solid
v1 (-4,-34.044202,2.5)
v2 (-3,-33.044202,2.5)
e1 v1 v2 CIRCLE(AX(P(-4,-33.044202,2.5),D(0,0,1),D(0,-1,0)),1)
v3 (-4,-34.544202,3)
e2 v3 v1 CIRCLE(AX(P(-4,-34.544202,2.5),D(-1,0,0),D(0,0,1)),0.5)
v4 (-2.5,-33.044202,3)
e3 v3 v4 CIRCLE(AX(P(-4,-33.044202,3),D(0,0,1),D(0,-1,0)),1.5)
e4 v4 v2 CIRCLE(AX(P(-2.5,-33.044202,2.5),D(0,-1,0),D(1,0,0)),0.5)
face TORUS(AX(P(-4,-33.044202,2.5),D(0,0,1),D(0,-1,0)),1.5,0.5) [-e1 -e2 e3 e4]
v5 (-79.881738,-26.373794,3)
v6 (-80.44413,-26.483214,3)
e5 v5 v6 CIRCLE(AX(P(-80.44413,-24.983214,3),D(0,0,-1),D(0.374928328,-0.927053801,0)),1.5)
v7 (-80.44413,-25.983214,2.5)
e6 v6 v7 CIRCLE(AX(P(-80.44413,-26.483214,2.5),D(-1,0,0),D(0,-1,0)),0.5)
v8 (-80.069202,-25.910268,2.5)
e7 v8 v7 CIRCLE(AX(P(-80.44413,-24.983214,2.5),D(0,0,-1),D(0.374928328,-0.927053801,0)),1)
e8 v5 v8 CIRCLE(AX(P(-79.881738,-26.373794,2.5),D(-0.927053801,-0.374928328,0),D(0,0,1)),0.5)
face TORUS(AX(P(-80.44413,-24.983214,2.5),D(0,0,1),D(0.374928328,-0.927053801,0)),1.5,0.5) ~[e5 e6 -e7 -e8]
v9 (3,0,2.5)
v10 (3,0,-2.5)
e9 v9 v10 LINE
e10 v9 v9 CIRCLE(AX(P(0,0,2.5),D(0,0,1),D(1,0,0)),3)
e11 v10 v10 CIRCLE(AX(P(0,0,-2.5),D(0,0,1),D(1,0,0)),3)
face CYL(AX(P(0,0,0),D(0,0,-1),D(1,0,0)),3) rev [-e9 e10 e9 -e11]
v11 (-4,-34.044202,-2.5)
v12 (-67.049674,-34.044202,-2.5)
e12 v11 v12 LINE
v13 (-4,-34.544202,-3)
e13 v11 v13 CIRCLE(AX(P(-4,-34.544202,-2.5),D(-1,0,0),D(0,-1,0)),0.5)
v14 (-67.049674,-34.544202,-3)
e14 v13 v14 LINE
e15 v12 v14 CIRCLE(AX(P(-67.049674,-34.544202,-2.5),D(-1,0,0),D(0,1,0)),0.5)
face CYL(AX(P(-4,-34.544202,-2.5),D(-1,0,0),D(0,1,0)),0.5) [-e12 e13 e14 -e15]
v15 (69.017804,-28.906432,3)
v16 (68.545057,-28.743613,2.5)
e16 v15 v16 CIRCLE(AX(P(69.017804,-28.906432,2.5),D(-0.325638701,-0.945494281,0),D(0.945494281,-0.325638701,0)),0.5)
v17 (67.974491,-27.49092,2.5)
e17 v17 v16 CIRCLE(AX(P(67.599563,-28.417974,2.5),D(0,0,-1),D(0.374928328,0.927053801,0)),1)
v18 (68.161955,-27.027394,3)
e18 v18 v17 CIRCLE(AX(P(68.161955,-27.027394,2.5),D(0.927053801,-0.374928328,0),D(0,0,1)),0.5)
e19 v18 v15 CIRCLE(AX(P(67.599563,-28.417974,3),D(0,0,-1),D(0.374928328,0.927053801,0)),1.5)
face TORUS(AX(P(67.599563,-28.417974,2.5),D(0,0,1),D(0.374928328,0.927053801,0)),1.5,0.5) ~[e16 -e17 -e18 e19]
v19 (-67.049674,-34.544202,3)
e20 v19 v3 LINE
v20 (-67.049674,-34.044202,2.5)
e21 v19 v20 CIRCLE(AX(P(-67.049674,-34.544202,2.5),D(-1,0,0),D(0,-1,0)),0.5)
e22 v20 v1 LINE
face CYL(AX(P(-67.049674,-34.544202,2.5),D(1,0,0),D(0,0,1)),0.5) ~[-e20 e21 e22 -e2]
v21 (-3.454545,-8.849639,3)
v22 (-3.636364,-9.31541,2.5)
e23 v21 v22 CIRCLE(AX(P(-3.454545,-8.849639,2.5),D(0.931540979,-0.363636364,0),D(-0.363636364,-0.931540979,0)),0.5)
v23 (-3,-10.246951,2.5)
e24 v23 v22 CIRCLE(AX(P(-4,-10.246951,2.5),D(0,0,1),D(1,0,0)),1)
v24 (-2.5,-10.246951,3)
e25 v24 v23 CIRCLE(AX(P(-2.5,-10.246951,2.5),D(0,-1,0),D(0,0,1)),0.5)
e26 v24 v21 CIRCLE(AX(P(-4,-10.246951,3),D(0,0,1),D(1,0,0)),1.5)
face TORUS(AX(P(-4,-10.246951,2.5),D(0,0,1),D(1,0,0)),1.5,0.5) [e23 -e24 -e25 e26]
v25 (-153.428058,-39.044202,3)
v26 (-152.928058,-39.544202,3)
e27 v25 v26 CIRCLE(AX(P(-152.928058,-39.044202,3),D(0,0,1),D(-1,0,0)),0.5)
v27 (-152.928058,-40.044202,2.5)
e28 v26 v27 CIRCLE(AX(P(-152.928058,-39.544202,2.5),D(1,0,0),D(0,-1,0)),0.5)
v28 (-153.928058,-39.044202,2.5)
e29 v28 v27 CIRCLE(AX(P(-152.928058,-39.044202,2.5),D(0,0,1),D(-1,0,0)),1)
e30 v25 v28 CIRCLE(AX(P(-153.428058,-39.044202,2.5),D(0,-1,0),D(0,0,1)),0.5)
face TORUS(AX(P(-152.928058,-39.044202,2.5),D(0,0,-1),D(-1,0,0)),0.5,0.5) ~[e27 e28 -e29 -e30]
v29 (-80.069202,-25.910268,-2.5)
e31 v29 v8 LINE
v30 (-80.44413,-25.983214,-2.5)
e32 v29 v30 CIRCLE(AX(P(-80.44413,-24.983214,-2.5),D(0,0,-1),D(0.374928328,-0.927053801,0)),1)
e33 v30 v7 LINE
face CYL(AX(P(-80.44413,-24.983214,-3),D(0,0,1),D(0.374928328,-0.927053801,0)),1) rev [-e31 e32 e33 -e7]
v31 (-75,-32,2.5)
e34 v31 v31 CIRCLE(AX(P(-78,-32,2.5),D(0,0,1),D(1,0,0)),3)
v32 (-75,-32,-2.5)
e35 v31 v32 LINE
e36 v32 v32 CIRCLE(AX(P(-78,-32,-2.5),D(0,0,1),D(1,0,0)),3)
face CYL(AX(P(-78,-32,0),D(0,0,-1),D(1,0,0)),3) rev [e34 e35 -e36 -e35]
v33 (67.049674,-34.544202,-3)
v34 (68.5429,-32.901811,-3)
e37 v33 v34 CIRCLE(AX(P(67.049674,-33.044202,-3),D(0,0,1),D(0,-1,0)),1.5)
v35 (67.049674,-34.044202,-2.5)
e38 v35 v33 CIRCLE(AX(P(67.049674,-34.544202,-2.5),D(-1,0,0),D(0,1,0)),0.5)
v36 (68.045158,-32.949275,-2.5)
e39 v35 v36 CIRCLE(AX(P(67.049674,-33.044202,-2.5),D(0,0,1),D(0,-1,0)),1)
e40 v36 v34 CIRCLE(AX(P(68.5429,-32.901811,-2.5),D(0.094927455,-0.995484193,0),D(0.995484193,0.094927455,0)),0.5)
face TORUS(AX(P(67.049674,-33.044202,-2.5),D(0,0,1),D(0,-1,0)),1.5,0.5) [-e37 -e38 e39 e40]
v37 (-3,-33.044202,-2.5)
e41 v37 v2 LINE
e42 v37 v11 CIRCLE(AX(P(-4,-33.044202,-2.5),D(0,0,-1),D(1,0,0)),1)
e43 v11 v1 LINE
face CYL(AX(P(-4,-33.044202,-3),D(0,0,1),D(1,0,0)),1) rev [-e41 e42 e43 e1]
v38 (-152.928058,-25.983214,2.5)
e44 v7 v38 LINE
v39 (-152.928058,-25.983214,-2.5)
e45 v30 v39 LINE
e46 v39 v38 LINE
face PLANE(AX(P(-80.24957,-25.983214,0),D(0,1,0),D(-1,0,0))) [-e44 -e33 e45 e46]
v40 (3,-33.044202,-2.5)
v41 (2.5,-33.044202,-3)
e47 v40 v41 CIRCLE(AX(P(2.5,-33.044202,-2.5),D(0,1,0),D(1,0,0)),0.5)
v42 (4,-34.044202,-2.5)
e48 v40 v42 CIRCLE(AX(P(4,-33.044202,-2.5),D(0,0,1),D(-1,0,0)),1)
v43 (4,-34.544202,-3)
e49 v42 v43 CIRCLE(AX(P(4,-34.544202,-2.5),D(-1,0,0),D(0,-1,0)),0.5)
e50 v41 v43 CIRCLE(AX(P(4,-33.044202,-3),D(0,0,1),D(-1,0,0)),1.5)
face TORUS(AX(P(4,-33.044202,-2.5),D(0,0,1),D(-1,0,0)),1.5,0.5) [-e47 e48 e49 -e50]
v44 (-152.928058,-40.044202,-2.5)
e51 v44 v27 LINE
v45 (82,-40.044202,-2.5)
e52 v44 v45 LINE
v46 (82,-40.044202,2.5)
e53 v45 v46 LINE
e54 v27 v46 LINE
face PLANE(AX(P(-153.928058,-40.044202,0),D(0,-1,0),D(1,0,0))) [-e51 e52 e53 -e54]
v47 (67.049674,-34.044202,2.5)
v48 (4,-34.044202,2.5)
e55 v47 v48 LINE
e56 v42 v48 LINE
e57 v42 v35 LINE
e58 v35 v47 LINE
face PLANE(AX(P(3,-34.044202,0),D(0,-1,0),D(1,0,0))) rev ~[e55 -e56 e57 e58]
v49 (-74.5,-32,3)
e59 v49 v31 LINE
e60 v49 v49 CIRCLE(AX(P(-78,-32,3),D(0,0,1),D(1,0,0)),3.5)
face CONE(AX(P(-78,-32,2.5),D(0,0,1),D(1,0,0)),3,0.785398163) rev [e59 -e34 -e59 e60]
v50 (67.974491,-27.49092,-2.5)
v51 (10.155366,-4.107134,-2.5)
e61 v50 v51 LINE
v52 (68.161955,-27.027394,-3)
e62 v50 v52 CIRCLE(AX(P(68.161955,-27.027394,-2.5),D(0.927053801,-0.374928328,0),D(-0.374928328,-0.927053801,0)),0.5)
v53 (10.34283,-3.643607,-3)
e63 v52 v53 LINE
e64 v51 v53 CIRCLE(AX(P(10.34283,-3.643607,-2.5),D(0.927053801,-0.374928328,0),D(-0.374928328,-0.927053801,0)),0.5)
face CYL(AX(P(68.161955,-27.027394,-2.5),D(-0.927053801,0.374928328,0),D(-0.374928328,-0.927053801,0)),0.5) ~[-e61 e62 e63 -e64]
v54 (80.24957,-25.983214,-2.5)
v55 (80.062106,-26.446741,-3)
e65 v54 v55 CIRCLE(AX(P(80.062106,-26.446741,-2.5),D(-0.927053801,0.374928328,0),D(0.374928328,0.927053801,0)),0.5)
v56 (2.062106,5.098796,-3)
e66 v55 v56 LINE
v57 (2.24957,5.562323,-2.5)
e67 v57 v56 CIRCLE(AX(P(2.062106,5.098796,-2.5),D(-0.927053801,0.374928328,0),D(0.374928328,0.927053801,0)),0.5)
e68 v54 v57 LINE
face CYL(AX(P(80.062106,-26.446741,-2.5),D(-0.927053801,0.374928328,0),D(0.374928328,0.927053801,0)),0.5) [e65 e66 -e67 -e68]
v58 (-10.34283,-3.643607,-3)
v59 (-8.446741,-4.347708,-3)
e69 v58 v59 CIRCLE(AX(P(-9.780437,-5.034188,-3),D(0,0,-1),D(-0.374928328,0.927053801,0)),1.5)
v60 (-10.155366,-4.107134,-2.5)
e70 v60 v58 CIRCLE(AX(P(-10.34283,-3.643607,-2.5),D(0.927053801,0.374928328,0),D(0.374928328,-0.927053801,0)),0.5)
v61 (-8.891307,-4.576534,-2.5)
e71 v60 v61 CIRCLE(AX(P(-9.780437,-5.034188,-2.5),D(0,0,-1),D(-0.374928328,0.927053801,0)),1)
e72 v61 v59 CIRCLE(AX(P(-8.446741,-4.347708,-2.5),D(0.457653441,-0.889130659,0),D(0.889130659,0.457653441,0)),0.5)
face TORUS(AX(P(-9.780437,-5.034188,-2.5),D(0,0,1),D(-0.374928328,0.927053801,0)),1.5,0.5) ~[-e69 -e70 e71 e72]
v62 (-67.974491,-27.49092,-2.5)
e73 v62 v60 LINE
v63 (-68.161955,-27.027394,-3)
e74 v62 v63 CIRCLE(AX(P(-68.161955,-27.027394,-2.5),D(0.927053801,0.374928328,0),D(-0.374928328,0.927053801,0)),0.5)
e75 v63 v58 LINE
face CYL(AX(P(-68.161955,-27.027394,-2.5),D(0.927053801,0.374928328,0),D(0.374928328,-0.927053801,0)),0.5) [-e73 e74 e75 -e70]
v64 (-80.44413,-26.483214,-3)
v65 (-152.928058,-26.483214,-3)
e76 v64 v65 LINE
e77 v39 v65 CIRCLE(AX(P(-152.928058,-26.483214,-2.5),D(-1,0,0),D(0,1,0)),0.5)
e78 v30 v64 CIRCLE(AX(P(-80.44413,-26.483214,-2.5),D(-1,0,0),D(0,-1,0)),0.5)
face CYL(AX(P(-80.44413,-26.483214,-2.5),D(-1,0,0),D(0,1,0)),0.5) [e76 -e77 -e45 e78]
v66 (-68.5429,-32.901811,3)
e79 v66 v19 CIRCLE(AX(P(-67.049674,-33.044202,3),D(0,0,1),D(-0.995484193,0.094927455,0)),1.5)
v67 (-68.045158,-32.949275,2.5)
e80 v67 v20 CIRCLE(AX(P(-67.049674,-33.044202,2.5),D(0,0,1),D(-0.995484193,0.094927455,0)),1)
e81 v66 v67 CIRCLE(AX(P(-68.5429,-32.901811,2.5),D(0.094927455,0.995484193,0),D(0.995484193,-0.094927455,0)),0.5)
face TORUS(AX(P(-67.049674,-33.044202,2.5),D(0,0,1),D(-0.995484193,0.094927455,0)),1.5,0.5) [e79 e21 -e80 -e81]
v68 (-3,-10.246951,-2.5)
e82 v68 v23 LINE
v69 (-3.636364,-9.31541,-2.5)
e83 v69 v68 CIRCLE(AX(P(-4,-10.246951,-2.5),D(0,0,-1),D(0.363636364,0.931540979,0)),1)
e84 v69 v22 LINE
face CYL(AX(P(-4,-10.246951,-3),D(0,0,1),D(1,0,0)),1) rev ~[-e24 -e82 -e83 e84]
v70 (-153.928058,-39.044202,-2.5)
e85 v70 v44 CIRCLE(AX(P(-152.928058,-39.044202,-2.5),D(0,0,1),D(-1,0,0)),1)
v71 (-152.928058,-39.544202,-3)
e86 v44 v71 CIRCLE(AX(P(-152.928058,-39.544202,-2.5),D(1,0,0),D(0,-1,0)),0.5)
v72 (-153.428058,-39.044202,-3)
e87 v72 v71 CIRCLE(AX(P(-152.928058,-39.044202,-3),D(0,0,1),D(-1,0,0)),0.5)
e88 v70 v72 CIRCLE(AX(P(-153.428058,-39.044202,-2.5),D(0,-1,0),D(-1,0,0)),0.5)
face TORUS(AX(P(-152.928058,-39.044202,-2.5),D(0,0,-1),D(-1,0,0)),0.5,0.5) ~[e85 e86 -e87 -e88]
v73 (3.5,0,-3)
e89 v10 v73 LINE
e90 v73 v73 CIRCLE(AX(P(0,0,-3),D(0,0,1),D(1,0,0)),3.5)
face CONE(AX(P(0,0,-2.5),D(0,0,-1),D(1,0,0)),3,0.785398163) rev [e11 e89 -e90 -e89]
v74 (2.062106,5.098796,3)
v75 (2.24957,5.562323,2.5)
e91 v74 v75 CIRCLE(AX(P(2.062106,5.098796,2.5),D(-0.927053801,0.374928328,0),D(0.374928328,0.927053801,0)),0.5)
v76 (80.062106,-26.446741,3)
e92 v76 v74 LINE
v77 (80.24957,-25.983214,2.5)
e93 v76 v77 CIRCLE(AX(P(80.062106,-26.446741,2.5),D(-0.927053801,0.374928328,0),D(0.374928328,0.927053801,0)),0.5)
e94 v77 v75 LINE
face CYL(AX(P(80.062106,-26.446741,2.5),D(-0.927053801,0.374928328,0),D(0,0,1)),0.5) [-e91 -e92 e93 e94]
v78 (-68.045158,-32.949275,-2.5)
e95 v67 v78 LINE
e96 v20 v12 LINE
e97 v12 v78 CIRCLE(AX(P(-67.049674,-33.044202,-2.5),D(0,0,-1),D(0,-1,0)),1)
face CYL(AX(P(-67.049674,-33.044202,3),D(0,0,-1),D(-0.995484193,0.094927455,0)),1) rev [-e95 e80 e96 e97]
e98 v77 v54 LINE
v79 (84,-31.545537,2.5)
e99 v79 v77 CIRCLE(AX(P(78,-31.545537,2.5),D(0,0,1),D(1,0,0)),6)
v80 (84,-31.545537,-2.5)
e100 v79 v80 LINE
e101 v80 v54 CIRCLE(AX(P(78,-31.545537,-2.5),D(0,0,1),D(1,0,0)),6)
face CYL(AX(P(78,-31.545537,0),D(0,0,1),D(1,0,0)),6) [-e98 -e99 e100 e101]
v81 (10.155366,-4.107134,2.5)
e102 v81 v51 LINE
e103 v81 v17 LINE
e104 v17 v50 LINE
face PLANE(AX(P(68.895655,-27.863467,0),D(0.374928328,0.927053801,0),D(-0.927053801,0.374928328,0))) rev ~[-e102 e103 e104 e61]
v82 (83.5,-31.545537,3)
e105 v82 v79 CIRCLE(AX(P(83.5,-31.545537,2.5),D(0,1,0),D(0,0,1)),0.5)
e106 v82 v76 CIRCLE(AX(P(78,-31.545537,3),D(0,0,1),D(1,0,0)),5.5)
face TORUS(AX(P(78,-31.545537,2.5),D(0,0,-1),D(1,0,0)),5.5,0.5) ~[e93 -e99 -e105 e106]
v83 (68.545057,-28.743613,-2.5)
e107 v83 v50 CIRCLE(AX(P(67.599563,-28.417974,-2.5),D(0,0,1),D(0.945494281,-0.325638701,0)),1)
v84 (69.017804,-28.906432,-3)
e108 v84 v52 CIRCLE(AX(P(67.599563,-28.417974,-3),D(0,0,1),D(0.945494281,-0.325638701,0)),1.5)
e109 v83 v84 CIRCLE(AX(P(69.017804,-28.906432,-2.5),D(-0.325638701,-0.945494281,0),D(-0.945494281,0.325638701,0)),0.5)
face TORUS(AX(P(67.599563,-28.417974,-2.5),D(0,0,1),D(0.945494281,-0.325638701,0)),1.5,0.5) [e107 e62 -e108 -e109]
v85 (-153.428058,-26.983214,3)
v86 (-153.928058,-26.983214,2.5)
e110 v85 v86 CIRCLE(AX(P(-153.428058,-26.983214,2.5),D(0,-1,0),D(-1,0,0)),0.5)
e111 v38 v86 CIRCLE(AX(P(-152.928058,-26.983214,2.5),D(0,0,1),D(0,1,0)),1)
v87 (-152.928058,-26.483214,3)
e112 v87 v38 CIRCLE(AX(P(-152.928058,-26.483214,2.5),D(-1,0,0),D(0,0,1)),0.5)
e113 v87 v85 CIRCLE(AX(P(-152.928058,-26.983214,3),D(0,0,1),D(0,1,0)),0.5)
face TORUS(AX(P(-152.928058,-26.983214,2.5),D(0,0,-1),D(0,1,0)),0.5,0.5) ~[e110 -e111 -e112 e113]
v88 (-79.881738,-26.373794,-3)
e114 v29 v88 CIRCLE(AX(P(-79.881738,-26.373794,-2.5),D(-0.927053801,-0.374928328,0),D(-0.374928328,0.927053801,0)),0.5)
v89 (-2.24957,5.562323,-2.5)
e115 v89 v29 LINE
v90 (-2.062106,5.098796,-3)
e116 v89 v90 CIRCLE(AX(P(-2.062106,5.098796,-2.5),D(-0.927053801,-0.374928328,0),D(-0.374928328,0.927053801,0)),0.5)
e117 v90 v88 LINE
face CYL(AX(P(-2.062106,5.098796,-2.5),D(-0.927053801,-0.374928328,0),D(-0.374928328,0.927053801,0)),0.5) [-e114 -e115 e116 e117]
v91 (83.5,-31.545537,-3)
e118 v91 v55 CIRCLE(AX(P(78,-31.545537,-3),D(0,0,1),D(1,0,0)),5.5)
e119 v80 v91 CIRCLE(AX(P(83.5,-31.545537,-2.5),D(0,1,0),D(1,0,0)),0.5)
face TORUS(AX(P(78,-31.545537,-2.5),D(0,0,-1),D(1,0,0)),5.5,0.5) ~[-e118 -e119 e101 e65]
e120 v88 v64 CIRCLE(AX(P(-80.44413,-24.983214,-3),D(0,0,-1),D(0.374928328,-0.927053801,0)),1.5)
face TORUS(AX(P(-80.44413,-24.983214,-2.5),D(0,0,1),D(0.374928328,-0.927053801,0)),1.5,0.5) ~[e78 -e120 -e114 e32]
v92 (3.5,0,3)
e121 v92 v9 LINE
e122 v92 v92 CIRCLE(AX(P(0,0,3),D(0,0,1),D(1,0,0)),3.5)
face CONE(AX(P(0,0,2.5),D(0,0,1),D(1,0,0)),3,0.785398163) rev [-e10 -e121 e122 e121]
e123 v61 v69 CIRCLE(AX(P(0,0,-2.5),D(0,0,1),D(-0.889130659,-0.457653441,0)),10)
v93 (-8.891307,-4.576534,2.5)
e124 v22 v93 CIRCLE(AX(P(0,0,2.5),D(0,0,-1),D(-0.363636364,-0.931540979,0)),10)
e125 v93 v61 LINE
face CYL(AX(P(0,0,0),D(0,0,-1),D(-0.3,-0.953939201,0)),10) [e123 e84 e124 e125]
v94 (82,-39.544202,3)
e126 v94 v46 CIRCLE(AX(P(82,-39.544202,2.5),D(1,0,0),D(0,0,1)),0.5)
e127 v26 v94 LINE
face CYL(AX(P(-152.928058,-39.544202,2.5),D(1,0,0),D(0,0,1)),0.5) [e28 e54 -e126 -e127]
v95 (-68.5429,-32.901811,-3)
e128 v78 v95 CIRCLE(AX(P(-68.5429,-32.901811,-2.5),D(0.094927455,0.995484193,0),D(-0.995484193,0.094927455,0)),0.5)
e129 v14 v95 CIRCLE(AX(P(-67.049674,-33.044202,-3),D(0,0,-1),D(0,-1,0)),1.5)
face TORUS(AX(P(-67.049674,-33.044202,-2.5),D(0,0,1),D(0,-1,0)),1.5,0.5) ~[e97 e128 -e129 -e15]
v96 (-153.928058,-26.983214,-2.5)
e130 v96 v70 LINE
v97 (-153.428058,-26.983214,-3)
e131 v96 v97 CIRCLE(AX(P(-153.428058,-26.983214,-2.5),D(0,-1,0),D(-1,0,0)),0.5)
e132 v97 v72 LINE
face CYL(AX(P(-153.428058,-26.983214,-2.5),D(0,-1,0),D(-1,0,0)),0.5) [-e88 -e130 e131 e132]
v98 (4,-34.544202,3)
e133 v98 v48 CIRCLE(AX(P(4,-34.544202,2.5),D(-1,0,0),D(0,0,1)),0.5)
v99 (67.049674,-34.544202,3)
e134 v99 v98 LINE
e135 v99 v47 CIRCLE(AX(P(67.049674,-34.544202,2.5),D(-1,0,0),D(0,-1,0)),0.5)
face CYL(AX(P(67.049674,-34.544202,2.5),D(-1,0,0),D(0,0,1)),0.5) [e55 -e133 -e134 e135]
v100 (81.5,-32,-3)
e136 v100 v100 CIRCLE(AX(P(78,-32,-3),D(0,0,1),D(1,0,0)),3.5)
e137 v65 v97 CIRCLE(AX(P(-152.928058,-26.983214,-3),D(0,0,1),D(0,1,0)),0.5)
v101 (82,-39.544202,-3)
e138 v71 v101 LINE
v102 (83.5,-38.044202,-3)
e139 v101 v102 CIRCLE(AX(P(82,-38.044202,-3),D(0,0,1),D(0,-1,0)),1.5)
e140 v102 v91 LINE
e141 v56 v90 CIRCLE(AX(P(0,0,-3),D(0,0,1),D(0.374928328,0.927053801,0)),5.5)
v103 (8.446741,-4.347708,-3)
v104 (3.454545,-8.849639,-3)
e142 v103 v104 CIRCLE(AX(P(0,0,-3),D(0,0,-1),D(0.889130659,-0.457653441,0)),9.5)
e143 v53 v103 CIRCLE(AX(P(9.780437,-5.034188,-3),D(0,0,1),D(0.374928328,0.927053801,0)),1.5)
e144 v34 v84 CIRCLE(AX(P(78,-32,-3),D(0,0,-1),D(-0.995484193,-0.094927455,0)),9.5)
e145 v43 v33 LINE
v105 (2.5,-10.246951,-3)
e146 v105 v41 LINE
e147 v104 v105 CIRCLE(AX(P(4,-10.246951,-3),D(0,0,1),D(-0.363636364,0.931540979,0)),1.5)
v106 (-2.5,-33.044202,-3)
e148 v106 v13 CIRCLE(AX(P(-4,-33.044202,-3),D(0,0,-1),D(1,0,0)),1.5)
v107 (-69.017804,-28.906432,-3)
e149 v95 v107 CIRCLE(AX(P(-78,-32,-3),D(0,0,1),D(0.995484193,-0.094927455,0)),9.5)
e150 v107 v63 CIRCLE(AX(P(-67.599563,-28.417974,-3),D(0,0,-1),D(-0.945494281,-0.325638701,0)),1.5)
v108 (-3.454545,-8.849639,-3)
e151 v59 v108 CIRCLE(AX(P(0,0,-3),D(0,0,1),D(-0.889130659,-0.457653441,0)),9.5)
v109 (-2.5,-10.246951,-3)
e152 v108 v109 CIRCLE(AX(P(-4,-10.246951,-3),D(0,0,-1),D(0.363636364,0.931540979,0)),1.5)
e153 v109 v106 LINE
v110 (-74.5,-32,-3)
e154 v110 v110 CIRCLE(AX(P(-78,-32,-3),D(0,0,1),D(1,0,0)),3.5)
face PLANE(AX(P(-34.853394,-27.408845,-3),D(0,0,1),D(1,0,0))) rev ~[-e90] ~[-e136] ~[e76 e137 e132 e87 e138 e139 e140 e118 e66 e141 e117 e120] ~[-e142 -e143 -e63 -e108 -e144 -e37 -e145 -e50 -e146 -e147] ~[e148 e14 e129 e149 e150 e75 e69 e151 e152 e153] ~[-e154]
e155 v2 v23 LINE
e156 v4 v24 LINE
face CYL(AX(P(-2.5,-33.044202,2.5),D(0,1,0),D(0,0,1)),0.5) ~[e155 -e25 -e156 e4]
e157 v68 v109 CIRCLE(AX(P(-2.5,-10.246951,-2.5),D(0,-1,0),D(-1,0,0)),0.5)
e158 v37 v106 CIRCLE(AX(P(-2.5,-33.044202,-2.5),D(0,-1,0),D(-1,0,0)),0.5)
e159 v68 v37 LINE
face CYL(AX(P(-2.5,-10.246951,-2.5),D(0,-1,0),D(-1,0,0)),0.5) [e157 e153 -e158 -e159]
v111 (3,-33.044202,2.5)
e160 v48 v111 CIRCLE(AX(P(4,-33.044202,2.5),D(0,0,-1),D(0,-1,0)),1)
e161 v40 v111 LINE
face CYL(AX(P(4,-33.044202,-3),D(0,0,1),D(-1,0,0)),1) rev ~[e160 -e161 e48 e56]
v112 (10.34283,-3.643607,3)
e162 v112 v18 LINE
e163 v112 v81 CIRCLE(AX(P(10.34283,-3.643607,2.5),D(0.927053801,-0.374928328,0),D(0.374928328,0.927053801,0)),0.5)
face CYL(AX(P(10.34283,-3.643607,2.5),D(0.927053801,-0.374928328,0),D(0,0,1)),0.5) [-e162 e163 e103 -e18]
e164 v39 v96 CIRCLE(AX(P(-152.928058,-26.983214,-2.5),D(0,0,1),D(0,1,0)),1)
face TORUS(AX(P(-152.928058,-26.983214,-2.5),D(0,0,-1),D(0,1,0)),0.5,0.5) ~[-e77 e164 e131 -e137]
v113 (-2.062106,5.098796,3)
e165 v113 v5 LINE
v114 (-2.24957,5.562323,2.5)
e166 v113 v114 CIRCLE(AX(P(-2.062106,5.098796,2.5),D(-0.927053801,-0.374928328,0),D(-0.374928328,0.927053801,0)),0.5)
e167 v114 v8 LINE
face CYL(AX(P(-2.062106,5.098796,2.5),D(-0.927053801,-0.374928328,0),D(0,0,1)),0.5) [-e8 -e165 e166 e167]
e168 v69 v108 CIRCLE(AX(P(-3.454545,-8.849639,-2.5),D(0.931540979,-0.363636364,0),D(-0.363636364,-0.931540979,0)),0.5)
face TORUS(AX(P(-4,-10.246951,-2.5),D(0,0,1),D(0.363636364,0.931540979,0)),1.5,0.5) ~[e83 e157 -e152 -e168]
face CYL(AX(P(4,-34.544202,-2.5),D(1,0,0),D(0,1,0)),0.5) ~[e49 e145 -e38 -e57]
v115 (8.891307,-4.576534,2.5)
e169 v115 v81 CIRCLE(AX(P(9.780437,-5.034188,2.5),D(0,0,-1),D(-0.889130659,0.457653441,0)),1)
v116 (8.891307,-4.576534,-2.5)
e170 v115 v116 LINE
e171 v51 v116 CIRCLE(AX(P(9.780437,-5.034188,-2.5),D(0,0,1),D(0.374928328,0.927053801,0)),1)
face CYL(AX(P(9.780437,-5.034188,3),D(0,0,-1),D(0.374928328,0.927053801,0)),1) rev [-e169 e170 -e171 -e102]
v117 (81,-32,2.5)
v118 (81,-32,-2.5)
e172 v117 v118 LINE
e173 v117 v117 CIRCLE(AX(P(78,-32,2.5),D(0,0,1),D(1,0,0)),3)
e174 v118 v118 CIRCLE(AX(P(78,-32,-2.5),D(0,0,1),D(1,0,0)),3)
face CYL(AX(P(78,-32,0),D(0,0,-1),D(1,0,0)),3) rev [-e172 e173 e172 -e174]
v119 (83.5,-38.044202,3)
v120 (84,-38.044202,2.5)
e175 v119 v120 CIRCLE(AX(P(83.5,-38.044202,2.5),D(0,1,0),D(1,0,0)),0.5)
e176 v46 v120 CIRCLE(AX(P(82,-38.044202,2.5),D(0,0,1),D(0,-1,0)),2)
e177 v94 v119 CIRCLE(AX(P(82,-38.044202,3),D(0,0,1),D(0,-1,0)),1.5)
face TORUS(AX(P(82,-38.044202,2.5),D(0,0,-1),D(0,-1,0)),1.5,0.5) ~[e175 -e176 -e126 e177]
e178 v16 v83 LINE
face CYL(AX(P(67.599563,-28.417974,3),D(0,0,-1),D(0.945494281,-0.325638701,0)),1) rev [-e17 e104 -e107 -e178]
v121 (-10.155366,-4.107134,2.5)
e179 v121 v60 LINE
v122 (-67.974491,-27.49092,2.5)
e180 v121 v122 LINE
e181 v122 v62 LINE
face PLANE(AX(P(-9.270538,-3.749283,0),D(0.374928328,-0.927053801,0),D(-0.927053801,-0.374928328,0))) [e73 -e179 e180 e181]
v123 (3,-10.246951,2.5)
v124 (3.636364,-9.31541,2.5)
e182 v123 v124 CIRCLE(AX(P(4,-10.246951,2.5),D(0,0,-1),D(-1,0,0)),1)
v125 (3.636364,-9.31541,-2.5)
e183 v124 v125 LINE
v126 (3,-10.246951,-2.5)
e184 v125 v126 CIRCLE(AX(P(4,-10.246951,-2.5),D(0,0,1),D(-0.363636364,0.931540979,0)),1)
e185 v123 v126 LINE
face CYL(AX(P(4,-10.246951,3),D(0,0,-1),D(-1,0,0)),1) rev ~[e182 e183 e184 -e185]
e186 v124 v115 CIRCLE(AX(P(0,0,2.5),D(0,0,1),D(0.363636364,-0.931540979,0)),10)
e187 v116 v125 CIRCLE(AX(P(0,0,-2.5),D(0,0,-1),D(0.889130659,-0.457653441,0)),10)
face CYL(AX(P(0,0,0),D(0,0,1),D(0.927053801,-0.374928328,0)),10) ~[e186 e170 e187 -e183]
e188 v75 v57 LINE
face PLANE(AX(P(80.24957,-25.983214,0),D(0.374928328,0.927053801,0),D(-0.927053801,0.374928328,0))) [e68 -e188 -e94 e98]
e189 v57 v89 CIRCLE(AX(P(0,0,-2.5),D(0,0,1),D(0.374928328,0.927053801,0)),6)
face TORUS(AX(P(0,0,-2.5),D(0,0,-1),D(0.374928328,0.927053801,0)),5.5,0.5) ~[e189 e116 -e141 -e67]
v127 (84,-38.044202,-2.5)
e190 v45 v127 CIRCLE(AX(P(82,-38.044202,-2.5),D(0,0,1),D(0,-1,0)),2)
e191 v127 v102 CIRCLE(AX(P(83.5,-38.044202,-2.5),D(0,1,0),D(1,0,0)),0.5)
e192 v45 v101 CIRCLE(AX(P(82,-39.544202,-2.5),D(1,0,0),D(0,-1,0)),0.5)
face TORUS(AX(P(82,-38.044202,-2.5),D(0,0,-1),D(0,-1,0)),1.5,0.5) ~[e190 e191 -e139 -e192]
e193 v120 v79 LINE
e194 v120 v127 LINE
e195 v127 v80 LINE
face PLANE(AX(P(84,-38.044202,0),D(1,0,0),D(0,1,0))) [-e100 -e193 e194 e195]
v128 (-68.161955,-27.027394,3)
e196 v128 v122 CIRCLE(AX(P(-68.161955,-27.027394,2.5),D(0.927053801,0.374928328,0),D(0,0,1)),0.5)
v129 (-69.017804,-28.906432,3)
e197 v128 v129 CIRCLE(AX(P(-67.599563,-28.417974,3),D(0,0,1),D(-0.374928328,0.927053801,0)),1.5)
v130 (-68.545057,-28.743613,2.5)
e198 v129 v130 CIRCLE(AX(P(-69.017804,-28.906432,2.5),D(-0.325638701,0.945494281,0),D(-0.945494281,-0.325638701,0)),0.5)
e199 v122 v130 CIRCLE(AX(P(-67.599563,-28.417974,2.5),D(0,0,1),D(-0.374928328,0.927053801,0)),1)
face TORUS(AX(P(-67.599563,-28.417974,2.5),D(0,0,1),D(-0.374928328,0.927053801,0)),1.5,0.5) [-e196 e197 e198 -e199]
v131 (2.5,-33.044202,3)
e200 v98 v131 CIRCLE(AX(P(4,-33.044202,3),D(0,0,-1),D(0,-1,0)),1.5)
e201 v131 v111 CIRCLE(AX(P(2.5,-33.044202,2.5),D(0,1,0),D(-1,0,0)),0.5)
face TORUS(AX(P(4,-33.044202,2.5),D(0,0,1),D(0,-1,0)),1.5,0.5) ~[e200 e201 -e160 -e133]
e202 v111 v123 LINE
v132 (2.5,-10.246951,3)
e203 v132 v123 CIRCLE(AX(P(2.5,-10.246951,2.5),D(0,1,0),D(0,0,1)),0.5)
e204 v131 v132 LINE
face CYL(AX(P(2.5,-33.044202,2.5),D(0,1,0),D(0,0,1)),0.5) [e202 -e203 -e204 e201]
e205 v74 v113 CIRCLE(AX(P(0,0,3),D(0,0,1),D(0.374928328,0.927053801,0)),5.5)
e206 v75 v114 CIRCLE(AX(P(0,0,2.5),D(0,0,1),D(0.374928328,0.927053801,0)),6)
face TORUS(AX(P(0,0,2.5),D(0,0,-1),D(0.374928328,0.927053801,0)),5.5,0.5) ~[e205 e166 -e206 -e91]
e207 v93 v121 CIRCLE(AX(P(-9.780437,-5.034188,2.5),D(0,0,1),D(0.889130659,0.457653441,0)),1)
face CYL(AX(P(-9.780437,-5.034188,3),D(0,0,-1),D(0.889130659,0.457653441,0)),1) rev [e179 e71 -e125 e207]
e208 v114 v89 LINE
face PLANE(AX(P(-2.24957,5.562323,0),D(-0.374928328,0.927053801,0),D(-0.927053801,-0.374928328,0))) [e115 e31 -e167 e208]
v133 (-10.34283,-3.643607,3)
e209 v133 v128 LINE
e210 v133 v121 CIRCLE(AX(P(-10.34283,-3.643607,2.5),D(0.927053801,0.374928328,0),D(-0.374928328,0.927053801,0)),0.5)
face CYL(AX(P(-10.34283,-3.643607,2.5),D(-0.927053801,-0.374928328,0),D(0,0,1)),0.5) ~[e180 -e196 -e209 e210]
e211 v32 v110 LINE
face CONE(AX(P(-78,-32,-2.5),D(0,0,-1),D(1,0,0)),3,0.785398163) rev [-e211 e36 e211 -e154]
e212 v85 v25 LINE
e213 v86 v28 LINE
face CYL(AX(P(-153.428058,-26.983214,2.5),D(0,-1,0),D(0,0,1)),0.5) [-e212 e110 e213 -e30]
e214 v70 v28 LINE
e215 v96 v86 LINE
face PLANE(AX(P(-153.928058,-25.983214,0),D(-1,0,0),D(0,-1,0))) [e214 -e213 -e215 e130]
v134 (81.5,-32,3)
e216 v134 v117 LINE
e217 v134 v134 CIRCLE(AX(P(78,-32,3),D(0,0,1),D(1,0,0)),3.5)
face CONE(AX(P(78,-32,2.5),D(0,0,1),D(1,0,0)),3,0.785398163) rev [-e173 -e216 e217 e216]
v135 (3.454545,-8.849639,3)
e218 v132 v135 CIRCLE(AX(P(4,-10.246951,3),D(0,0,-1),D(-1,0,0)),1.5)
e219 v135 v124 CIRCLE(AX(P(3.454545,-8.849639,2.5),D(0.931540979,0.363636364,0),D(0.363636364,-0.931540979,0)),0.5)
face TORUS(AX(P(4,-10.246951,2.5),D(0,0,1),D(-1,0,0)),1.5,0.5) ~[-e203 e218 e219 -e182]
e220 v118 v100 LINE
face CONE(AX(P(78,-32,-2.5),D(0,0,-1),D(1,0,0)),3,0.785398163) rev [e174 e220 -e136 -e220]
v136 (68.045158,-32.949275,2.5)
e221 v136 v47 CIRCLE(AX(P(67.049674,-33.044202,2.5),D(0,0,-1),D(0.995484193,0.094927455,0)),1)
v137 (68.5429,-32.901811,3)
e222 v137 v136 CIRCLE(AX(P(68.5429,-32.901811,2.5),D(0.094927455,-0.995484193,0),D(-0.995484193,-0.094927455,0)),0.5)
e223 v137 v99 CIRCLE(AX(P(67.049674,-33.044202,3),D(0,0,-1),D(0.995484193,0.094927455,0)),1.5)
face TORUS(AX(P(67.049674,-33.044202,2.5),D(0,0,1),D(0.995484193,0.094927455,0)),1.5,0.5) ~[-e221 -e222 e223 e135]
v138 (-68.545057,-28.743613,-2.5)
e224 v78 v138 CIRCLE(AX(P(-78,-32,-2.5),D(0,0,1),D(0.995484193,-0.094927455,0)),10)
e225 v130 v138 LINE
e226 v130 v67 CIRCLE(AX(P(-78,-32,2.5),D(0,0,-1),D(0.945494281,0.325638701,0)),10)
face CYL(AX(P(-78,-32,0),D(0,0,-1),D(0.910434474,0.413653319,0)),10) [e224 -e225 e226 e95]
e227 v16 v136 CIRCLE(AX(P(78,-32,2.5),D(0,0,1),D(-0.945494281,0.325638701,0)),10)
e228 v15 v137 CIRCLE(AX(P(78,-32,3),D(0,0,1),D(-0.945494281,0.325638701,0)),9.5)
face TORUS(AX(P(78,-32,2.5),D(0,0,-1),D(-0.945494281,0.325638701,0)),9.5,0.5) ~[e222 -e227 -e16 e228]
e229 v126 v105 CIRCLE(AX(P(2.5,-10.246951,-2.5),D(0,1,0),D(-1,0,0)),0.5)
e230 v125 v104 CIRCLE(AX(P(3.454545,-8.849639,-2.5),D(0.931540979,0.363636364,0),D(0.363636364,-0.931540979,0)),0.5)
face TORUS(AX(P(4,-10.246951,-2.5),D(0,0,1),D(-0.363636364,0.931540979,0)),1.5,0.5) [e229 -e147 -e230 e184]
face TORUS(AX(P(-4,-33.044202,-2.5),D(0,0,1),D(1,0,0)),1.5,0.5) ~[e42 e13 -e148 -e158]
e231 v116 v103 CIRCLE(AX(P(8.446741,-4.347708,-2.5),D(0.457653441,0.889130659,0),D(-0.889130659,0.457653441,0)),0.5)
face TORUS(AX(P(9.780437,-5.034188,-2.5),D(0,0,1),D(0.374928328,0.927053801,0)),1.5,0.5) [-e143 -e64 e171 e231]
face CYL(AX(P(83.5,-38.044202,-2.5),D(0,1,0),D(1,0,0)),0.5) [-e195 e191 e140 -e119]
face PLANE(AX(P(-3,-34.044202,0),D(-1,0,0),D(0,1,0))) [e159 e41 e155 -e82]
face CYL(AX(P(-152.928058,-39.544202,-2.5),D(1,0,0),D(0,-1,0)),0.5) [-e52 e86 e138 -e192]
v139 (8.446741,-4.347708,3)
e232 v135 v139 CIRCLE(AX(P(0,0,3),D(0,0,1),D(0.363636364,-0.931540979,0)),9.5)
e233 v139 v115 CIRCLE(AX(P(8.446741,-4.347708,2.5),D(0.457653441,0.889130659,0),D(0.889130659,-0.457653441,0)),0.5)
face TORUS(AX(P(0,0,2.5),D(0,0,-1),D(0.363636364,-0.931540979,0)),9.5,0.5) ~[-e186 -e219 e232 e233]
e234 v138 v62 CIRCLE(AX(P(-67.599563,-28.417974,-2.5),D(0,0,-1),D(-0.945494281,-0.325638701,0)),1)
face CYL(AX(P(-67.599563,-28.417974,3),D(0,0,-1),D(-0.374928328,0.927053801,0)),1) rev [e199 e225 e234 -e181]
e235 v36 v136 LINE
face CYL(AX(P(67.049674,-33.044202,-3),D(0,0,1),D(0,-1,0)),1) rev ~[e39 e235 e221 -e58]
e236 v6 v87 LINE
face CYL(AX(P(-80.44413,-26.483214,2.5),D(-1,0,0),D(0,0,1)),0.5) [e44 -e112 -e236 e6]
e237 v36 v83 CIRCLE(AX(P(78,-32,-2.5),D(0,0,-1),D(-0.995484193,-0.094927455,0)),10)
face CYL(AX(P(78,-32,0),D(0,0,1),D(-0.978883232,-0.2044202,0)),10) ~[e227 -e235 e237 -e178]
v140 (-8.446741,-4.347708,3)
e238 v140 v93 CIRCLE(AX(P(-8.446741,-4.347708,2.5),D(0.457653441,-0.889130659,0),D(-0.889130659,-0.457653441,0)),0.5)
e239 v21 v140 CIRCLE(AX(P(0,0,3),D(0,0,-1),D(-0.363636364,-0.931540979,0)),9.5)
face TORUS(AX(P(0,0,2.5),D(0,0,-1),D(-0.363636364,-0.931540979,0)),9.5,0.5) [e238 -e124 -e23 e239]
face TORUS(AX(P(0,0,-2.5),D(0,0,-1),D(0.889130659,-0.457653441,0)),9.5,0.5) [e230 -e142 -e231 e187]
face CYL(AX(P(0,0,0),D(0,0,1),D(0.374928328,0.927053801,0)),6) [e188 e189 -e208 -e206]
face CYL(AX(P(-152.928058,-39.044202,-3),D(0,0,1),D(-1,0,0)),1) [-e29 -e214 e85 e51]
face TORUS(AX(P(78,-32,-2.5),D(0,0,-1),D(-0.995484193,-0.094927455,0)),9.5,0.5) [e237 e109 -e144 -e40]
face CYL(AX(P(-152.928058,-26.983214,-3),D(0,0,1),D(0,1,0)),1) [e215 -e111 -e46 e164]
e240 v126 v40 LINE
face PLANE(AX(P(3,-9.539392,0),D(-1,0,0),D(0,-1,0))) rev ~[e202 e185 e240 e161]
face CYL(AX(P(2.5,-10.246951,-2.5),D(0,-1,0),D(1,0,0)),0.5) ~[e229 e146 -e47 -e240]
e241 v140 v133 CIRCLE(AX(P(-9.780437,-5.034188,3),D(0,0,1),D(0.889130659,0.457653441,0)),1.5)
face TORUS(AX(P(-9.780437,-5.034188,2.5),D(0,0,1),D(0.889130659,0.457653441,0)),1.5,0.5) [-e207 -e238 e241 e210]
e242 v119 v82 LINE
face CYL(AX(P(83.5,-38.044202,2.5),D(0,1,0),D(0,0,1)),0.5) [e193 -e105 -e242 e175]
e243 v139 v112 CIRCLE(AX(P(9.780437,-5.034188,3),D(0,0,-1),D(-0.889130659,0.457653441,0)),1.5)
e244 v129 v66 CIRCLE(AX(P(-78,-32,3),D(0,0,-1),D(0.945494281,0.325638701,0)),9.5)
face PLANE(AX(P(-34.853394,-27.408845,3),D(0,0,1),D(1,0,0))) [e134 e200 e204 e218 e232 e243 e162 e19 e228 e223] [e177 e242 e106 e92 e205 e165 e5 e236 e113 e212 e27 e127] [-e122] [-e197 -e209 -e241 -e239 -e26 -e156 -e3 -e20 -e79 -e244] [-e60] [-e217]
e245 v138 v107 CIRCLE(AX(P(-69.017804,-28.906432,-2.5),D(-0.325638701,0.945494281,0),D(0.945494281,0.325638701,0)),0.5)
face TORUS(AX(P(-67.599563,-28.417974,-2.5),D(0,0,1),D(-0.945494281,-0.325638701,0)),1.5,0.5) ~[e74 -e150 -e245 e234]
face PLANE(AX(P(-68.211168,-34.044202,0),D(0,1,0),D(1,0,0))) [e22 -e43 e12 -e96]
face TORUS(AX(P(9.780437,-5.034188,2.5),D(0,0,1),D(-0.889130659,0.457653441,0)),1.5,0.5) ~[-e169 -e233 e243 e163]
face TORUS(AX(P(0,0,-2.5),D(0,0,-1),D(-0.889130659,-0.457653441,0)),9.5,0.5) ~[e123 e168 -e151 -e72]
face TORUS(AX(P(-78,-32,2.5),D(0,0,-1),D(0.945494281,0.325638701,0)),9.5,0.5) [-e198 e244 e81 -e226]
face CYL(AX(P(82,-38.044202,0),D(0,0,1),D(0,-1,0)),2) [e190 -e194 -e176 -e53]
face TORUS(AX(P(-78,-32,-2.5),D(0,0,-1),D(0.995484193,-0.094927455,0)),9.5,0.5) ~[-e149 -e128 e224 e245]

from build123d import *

# Parameters (mm, degrees)
ESBO_O1_R                = 3
ESBO_O1_R_2              = 3.0000000000000084
RESSALTO_EXTRUS_O1_DEPTH = 3
CHANFRO1_SIZE            = 0.5
CORTE_EXTRUS_O1_DEPTH    = 7
FILETE2_R                = 1
FILETE1_R                = 0.5


with BuildPart() as part:
    # Esboço1 → Ressalto-extrusão1 (new, symmetric)
    with BuildSketch(Plane.XY):
        with BuildLine():
            Line((-2.2495699654391412, 5.562322803523193), (-80.24956996543914, -25.983213746982642))
            Line((-80.24956996543914, -25.983213746982642), (-153.9280580647533, -25.983213746982642))
            Line((-153.9280580647533, -25.983213746982642), (-153.9280580647533, -40.04420200000002))
            Line((-153.9280580647533, -40.04420200000002), (-81.99999999999999, -40.044202))
            Line((-81.99999999999999, -40.044202), (81.99999999999999, -40.044202))
            ThreePointArc((81.99999999999999, -40.044202), (83.41421356237308, -39.45841556237309), (84, -38.044202))
            Line((84, -38.044202), (84, -31.54553655050584))
            ThreePointArc((84, -31.54553655050584), (82.97480752354474, -28.191242272467225), (80.24956996543914, -25.983213746982642))
            Line((80.24956996543914, -25.983213746982642), (2.249569965439149, 5.562322803523193))
            ThreePointArc((2.249569965439149, 5.562322803523193), (3.03e-15, 6.000000000000001), (-2.2495699654391412, 5.562322803523193))
        make_face()
        Circle(ESBO_O1_R, mode=Mode.SUBTRACT)
        with Locations((-78, -32)):
            Circle(ESBO_O1_R_2, mode=Mode.SUBTRACT)
        with Locations((78, -32)):
            Circle(ESBO_O1_R_2, mode=Mode.SUBTRACT)
    extrude(amount=RESSALTO_EXTRUS_O1_DEPTH, both=True)

    # Chanfro1
    chanfro1_edges = [part.edges().sort_by_distance(p)[0] for p in [
        (-3, 3.7e-16, -3),
        (-3, 3.7e-16, 3),
        (-81.00000000000001, -32, -3),
        (-81.00000000000001, -32, 3),
        (74.99999999999999, -32, -3),
        (74.99999999999999, -32, 3),
    ]]
    chamfer(chanfro1_edges, length=CHANFRO1_SIZE)

    # Esboço2 → Corte-extrusão1 (cut, symmetric)
    with BuildSketch(Plane.XY):
        with BuildLine():
            ThreePointArc((-68, -32), (-68.05293200995904, -33.027539975622474), (-68.21116768030045, -34.044202000000354))
            Line((-68.21116768030052, -34.044202000000006), (-2.999999999999986, -34.044202000000006))
            Line((-2.9999999999999907, -34.044202), (-2.9999999999999907, -9.539392014169486))
            ThreePointArc((-2.999999999999943, -9.539392014169474), (-6.784015443608515, -7.346913260742988), (-9.270538005871929, -3.74928327573206))
            Line((-9.270538005871986, -3.7492832757319046), (-68.89565525894349, -27.863466809513486))
            ThreePointArc((-68.89565525894358, -27.863466809513305), (-68.22647843890023, -29.883806177421874), (-68, -32))
        make_face()
        with BuildLine():
            Line((3.0000000000000098, -9.53939201416961), (3.0000000000000098, -34.044202))
            Line((3.000000000000014, -34.044202), (68.21116768030028, -34.044202))
            ThreePointArc((68.21116768030033, -34.04420199999977), (68.06076427807452, -30.89927602733458), (68.89565525894358, -27.863466809513298))
            Line((68.89565525894348, -27.863466809513472), (9.270538005871988, -3.7492832757319006))
            ThreePointArc((9.27053800587193, -3.749283275732055), (6.784015443608441, -7.346913260743056), (2.999999999999736, -9.53939201416954))
        make_face()
    extrude(amount=CORTE_EXTRUS_O1_DEPTH, both=True, mode=Mode.SUBTRACT)

    # Filete2
    filete2_edges = [part.edges().sort_by_distance(p)[0] for p in [
        (-153.9280580647533, -40.04420200000002, 0),
        (-153.9280580647533, -25.983213746982642, 0),
        (-80.24956996543914, -25.983213746982642, 0),
        (-9.270538005871957, -3.749283275731983, 0),
        (-2.999999999999967, -9.53939201416948, 0),
        (-2.9999999999999885, -34.044202, 0),
        (-68.21116768030049, -34.04420200000018, 0),
        (-68.89565525894353, -27.863466809513397, 0),
        (2.9999999999998734, -9.539392014169575, 0),
        (9.270538005871959, -3.749283275731978, 0),
        (68.89565525894352, -27.863466809513383, 0),
        (68.2111676803003, -34.044201999999885, 0),
        (3.000000000000012, -34.044202, 0),
    ]]
    fillet(filete2_edges, radius=FILETE2_R)

    # Filete1
    filete1_edges = [part.edges().sort_by_distance(p)[0] for p in [
        (4.33e-15, 6.000000000000002, 3),
        (-35.46402903237666, -40.044202000000006, -3),
        (-35.46402903237666, -40.044202000000006, 3),
        (-153.9280580647533, -33.013707873491335, -3),
        (-116.68609420713314, -25.983213746982642, -3),
        (-2.9999999999999902, -21.645576382979804, -3),
        (-6.697004200554872, -7.426313670843051, -3),
        (-39.06492840230362, -15.79902726612516, -3.0000000000000004),
        (-68.06990265748041, -30.819675142985826, -3),
        (-41.15938599368947, -10.173972372023329, -3),
        (-35.52483693888492, -34.044202000000006, -3),
        (39.06492840230361, -15.799027266125155, -3),
        (6.69700420055487, -7.426313670843051, -3),
        (3.0000000000000084, -21.645576382979797, -3),
        (35.52483693888493, -34.044202, -3),
        (68.06990265748041, -30.819675142985833, -3),
        (-153.63516484593984, -26.276106965796096, -3),
        (4.33e-15, 6.000000000000002, -3),
        (-153.63516484593984, -39.75130878118657, -3),
        (-153.9280580647533, -33.013707873491335, 3),
        (-6.697004200554872, -7.426313670843051, 3),
        (-2.9999999999999902, -21.645576382979804, 3),
        (-35.52483693888492, -34.044202000000006, 3),
        (41.24956996543914, -10.210445471729724, -3),
        (-68.06990265748041, -30.819675142985826, 3),
        (-39.06492840230362, -15.79902726612516, 3.0000000000000004),
        (-116.68609420713314, -25.983213746982642, 3),
        (6.69700420055487, -7.426313670843051, 3),
        (39.06492840230361, -15.799027266125155, 3),
        (68.06990265748041, -30.819675142985833, 3),
        (82.97480752354474, -28.19124227246723, -3),
        (35.52483693888493, -34.044202, 3),
        (3.0000000000000084, -21.645576382979797, 3),
        (-41.15938599368947, -10.173972372023329, 3),
        (-153.63516484593984, -26.276106965796096, 3),
        (-153.63516484593984, -39.75130878118657, 3),
        (-80.25315103202966, -25.964807807831434, -3),
        (-80.25315103202966, -25.964807807831434, 3),
        (3.2928932188134614, -33.751308781186545, 3),
        (3.2928932188134614, -33.751308781186545, -3),
        (-3.2928932188134405, -33.75130878118655, 3),
        (-3.2928932188134405, -33.75130878118655, -3),
        (67.78958179587369, -33.716910163119245, 3),
        (67.78958179587369, -33.716910163119245, -3),
        (68.50961158101003, -28.00347288767457, 3),
        (68.50961158101003, -28.00347288767457, -3),
        (-9.432320620733224, -4.096736615700223, 3),
        (-9.432320620733224, -4.096736615700223, -3),
        (-3.17427717615522, -9.682874691141835, 3),
        (-3.17427717615522, -9.682874691141835, -3),
        (9.432320620733222, -4.096736615700219, 3),
        (9.432320620733222, -4.096736615700219, -3),
        (3.1742771761552384, -9.682874691141828, 3),
        (3.1742771761552384, -9.682874691141828, -3),
        (-68.50961158101003, -28.003472887674565, 3),
        (-68.50961158101003, -28.003472887674565, -3),
        (-67.78958179587367, -33.71691016311925, 3),
        (-67.78958179587367, -33.71691016311925, -3),
        (83.41421356237308, -39.45841556237309, 3),
        (84, -34.79486927525292, 3),
        (82.97480752354474, -28.19124227246723, 3),
        (41.24956996543914, -10.210445471729724, 3),
        (84, -34.79486927525292, -3),
        (83.41421356237308, -39.45841556237309, -3),
    ]]
    fillet(filete1_edges, radius=FILETE1_R)


solid = part.part
